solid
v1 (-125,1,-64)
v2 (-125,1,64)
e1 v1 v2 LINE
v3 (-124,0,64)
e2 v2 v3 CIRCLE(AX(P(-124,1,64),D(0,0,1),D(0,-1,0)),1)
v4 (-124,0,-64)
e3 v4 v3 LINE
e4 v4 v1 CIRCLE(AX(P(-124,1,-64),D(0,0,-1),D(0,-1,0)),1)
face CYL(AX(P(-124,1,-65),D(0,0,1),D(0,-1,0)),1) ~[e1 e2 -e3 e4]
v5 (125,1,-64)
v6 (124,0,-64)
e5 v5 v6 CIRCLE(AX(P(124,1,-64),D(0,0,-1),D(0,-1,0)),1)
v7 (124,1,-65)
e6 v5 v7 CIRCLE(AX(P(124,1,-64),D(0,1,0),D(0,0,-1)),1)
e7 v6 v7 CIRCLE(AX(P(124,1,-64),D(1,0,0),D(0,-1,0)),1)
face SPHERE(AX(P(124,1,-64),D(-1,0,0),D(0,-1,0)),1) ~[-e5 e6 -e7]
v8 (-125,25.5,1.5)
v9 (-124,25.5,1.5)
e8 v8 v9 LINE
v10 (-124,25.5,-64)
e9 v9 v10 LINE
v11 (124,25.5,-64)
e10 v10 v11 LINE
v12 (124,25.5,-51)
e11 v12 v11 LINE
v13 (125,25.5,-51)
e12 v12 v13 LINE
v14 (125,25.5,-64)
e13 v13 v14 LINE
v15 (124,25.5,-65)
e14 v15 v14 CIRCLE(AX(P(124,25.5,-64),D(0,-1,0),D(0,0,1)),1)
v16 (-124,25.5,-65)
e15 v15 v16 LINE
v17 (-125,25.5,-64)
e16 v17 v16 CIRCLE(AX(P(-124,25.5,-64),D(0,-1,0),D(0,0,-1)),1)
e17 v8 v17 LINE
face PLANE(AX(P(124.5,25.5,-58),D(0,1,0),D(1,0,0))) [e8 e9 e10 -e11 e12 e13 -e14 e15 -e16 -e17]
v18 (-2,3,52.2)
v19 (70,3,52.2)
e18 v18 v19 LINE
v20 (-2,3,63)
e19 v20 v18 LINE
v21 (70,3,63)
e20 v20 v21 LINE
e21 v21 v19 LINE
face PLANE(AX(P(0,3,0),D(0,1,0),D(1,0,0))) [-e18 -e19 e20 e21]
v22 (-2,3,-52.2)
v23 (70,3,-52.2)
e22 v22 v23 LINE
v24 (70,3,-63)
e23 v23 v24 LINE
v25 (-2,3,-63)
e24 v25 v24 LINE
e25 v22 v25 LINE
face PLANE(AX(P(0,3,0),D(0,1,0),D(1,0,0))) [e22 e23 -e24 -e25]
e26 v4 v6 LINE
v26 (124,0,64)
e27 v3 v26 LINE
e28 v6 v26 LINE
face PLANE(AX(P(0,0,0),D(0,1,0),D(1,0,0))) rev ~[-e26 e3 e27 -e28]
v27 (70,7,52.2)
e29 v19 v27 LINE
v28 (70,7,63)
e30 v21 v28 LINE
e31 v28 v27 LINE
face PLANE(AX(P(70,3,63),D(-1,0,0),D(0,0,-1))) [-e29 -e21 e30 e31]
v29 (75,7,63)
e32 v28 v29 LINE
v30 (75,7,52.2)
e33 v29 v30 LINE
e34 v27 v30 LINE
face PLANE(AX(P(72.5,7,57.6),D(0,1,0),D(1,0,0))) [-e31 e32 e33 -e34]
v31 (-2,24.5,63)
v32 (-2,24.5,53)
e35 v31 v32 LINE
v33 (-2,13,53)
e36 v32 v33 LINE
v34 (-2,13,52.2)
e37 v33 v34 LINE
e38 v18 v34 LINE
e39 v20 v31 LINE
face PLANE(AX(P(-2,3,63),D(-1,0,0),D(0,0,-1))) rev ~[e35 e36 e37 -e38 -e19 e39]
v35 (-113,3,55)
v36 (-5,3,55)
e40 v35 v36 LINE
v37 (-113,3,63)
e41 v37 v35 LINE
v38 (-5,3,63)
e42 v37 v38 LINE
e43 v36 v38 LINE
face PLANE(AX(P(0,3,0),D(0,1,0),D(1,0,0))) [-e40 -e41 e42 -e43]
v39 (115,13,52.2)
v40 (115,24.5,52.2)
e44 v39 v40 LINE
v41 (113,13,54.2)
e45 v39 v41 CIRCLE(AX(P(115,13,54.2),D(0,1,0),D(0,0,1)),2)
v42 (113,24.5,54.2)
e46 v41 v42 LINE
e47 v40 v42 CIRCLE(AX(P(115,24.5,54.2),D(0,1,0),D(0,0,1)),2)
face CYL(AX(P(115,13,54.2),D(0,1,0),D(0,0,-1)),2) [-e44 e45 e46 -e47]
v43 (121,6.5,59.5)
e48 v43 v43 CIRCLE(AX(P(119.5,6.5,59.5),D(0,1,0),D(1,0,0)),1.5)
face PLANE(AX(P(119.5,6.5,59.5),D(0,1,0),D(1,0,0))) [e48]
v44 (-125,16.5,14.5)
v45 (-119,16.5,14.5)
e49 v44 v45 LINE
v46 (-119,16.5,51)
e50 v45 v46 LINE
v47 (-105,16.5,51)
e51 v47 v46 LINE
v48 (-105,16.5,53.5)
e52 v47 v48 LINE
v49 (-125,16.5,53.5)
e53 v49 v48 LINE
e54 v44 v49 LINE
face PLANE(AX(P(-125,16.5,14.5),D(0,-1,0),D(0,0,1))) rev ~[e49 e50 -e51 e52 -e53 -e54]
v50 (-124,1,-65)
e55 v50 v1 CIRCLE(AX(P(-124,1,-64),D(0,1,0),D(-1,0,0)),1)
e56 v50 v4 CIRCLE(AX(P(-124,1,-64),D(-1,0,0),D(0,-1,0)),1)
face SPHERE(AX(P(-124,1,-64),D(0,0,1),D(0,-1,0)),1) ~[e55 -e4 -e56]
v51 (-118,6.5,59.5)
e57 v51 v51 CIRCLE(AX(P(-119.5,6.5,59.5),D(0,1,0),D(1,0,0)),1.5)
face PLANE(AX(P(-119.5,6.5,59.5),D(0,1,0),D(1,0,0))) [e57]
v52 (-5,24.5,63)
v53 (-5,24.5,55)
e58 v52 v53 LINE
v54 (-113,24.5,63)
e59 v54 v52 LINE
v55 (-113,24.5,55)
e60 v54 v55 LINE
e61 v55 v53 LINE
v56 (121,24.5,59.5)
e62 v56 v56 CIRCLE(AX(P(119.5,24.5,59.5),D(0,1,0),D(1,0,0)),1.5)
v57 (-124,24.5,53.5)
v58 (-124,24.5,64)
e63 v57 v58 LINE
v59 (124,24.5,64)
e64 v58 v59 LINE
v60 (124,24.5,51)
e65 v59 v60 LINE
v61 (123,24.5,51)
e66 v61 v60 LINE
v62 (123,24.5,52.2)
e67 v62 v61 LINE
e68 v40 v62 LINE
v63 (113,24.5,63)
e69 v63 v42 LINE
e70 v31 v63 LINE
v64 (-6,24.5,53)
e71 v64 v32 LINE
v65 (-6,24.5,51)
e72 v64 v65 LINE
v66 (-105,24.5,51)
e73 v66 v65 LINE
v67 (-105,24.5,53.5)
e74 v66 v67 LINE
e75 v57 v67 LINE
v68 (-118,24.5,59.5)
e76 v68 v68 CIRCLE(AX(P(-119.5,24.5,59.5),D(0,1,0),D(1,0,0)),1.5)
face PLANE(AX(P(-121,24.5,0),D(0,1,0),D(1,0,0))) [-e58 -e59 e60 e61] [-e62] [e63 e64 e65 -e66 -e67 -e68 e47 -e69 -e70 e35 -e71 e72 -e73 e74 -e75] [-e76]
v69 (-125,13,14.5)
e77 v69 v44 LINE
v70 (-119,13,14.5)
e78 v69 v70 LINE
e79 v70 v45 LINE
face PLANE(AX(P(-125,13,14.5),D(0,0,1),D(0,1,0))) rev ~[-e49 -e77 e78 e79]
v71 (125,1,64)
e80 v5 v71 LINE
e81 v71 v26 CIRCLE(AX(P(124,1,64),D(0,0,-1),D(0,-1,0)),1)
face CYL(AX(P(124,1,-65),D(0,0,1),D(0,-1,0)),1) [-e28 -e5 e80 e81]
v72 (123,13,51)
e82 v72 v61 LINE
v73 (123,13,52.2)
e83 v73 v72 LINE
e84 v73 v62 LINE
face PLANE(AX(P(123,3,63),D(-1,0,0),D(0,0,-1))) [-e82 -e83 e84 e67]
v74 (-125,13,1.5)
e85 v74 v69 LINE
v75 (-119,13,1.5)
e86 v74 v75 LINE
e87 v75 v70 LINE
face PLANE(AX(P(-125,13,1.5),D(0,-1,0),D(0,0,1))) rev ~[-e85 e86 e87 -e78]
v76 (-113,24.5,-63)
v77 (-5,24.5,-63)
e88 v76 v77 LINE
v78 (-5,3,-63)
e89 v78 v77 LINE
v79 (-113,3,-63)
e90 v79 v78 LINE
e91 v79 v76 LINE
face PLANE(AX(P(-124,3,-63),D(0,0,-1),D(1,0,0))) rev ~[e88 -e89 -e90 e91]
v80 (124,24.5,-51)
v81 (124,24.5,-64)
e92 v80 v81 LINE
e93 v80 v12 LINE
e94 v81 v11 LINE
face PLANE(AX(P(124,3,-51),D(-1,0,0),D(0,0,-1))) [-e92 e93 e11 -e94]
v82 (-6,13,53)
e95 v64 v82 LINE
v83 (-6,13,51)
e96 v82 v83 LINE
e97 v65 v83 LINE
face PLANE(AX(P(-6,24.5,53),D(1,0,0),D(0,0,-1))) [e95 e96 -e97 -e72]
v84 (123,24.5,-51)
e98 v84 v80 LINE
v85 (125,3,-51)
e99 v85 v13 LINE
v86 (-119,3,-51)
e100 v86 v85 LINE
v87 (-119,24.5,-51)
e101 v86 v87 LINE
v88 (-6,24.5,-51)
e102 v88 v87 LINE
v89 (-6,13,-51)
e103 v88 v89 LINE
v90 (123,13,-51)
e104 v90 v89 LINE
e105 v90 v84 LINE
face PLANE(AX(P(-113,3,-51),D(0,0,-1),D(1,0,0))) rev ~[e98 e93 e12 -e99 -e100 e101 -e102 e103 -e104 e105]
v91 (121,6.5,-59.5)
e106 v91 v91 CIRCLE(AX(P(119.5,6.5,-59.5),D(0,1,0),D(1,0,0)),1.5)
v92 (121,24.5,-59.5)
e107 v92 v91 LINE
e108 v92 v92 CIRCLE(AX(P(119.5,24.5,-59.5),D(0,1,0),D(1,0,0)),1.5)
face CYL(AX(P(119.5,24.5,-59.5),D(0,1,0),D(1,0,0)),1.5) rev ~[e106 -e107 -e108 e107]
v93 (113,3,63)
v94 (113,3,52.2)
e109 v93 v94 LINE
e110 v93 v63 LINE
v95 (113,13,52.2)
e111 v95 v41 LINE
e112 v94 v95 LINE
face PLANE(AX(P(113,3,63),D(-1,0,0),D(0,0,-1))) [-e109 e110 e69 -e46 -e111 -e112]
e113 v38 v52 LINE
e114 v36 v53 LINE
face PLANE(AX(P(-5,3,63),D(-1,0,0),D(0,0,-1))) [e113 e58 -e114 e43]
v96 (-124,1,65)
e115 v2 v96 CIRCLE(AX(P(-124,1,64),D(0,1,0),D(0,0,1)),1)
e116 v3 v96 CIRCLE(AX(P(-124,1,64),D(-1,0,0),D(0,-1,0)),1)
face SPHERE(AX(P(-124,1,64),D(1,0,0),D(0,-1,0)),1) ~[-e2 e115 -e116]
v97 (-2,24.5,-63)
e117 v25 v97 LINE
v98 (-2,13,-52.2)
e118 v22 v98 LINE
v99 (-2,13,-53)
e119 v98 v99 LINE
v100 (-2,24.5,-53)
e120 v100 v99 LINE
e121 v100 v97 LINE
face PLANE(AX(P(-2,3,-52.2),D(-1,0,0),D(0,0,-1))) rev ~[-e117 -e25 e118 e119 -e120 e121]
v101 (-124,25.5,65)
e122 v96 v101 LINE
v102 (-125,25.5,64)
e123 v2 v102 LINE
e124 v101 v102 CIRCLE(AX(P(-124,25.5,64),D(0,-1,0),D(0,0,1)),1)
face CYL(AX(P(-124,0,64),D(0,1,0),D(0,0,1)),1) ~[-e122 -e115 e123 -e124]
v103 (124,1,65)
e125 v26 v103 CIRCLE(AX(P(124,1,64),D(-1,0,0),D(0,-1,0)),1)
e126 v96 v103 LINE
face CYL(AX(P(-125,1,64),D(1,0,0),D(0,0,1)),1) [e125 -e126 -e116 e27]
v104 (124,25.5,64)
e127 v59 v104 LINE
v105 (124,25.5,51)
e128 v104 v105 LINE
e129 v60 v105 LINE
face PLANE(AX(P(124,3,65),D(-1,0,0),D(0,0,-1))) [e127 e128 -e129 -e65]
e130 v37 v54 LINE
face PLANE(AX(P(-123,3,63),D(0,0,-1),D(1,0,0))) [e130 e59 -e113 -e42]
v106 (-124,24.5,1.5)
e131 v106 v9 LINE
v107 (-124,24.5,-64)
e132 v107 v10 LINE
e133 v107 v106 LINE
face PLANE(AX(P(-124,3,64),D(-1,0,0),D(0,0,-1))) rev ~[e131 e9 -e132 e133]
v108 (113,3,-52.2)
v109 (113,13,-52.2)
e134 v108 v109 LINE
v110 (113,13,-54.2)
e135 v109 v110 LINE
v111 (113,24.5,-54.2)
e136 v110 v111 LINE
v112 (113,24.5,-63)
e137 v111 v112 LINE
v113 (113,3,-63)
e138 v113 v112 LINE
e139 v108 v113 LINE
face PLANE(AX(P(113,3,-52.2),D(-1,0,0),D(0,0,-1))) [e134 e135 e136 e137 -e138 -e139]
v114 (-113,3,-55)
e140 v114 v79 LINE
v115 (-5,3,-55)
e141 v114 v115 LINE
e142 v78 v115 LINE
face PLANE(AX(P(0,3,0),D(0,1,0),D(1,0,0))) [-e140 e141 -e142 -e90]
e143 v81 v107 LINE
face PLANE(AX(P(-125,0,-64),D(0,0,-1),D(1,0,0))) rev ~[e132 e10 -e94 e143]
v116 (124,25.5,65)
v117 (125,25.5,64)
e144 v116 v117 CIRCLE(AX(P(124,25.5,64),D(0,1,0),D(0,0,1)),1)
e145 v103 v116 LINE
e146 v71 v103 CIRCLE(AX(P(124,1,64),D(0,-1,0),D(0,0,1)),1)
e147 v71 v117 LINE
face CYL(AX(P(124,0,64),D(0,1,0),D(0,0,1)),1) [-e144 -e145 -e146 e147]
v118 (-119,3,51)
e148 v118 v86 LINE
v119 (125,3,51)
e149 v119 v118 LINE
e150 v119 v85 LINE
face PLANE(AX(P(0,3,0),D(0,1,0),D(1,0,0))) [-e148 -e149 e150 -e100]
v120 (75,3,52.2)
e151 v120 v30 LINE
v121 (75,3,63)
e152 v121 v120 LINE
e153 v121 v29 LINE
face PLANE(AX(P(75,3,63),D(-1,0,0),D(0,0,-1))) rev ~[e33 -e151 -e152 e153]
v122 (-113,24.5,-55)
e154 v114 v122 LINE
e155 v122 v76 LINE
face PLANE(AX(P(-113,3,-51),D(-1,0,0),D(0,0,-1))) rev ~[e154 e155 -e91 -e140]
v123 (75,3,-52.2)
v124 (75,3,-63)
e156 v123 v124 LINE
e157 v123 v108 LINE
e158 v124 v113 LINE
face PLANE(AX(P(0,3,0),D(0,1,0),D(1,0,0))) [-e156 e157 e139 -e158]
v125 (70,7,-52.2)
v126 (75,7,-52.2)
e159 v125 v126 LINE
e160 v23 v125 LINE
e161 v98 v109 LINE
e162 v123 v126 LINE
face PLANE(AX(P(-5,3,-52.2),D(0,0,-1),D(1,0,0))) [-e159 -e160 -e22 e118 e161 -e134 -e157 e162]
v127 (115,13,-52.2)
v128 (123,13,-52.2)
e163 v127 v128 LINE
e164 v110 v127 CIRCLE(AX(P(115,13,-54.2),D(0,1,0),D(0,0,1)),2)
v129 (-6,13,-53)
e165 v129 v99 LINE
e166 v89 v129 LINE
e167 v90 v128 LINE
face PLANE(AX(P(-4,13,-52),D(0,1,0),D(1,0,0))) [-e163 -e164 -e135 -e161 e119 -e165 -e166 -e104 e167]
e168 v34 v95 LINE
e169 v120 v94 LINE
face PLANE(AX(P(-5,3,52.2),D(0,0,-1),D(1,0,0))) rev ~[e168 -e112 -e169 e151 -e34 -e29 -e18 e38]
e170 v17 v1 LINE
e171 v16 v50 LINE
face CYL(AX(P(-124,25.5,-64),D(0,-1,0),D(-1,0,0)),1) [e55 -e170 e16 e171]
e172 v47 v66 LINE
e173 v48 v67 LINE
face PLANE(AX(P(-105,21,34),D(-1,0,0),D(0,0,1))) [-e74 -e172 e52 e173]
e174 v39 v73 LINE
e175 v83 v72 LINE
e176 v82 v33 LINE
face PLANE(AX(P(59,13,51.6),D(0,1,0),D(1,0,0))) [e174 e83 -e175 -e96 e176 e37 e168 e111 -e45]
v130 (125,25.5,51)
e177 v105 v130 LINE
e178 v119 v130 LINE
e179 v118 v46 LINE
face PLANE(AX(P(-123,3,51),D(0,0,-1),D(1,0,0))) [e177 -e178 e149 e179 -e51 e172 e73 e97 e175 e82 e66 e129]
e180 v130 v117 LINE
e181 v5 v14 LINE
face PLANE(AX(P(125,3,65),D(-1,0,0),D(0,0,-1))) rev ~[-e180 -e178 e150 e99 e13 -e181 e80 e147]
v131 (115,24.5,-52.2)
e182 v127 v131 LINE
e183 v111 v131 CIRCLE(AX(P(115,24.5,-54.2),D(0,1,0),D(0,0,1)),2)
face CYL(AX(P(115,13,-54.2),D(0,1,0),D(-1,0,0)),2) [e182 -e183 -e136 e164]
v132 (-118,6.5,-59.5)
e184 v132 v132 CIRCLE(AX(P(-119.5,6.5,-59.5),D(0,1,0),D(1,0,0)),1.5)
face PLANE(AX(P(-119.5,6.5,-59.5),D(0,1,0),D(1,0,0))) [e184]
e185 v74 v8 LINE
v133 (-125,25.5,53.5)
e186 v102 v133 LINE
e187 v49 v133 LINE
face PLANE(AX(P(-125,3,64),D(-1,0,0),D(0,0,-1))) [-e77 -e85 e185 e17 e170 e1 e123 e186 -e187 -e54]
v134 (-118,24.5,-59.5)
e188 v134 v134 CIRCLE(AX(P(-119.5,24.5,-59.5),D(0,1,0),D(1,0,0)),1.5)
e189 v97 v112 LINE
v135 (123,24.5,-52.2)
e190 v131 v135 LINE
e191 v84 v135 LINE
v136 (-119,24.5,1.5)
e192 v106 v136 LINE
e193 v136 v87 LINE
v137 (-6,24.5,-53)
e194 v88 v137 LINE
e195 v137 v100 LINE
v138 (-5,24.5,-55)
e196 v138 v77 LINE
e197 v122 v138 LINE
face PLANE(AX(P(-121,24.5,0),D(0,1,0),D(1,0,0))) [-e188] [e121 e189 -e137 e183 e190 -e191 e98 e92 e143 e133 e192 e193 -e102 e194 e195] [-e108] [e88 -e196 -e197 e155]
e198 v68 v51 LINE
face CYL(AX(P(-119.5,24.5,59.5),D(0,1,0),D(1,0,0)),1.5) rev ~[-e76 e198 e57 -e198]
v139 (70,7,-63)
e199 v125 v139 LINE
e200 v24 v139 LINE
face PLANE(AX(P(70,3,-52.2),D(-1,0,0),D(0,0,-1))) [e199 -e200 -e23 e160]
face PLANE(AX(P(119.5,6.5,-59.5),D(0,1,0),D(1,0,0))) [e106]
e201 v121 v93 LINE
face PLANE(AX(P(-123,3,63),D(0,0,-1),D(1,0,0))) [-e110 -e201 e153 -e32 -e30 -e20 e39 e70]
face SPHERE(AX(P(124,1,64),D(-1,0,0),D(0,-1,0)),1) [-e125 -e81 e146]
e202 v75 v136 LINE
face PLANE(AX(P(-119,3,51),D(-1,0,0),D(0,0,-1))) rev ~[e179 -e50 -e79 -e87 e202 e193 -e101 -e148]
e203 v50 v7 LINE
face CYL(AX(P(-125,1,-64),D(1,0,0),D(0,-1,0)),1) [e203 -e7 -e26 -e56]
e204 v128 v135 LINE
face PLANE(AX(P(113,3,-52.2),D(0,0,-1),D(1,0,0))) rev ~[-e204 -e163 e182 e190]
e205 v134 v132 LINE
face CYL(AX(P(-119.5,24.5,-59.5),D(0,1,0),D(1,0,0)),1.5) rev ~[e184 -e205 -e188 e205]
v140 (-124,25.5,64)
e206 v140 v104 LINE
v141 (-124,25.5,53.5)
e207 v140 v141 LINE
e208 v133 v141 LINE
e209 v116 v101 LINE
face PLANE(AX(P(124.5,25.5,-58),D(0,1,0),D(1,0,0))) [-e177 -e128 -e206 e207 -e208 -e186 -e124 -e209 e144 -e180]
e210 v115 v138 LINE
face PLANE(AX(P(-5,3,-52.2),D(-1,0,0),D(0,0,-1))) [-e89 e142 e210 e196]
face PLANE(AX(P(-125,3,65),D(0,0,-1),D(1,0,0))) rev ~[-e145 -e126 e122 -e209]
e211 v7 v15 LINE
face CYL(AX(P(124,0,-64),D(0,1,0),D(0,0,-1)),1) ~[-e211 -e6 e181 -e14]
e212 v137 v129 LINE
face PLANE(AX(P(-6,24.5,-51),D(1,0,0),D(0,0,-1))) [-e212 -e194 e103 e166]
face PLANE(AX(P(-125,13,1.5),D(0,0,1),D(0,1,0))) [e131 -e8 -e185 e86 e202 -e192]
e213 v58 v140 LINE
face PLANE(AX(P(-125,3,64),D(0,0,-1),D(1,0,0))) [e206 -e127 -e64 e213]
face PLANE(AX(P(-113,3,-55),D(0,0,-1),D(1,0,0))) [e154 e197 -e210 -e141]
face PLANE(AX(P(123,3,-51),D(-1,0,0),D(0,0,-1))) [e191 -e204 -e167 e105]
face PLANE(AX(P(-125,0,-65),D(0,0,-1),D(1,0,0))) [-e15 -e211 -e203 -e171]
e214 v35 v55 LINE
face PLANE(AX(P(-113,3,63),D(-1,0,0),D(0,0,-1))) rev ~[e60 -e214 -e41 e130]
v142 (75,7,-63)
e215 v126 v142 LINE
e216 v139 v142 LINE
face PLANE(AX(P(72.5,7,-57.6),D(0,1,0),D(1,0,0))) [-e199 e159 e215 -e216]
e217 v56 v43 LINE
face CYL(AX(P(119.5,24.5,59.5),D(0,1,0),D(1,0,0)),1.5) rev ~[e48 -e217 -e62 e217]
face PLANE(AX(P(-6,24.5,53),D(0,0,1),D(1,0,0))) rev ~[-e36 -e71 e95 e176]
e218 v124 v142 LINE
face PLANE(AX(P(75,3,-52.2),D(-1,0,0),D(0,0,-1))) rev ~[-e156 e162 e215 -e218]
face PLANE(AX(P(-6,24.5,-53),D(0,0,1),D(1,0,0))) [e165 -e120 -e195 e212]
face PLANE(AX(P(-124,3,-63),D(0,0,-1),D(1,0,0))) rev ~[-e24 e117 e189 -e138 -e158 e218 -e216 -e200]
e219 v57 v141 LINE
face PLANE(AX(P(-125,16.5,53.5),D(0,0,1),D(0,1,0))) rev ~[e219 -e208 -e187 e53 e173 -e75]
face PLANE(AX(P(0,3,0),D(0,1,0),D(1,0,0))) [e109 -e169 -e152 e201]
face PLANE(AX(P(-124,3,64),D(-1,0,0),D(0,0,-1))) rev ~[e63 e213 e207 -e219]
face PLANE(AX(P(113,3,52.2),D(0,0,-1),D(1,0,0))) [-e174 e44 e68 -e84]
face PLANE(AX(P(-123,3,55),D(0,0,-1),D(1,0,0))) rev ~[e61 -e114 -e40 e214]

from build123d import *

# Parameters (mm, degrees)
SKETCH1_W             = 250
SKETCH1_H             = 130
BOSS_EXTRUDE1_DEPTH   = 3
SKETCH2_W             = 250
SKETCH2_H             = 1
BOSS_EXTRUDE2_DEPTH   = 25.5
SKETCH3_W             = 250
SKETCH3_H             = 1
BOSS_EXTRUDE3_DEPTH   = 22.5
SKETCH4_W             = 1
SKETCH4_H             = 128
BOSS_EXTRUDE4_DEPTH   = 22.5
SKETCH6_W             = 1
SKETCH6_H             = 14
BOSS_EXTRUDE5_DEPTH   = 22.5
SKETCH7_W             = 1
SKETCH7_H             = 14
BOSS_EXTRUDE6_DEPTH   = 22.5
SKETCH8_W             = 1
SKETCH8_H             = 13
BOSS_EXTRUDE7_DEPTH   = 21.5
SKETCH10_W            = 247
SKETCH10_H            = 1
BOSS_EXTRUDE8_DEPTH   = 21.5
SKETCH11_W            = 1
SKETCH11_H            = 127
BOSS_EXTRUDE9_DEPTH   = 21.5
SKETCH14_W            = 247
SKETCH14_H            = 1
BOSS_EXTRUDE10_DEPTH  = 21.5
SKETCH15_W            = 1
SKETCH15_H            = 12
BOSS_EXTRUDE11_DEPTH  = 21.5
FILLET1_R             = 1
SKETCH17_W            = 128
SKETCH17_H            = 1.2
BOSS_EXTRUDE12_DEPTH  = 10
SKETCH19_W            = 128
SKETCH19_H            = 1.2
BOSS_EXTRUDE13_DEPTH  = 10
SKETCH22_W            = 3
SKETCH22_H            = 10.8
BOSS_EXTRUDE14_DEPTH  = 21.5
SKETCH24_W            = 3
SKETCH24_H            = 10.8
BOSS_EXTRUDE15_DEPTH  = 21.5
SKETCH31_W            = 5
SKETCH31_H            = 10.8
BOSS_EXTRUDE16_DEPTH  = 4
SKETCH33_W            = 5
SKETCH33_H            = 10.8
BOSS_EXTRUDE18_DEPTH  = 4
SKETCH44_W            = 118
SKETCH44_H            = 4
BOSS_EXTRUDE28_DEPTH  = 21.5
SKETCH45_W            = 10
SKETCH45_H            = 12
BOSS_EXTRUDE29_DEPTH  = 21.5
SKETCH46_W            = 10
SKETCH46_H            = 8
BOSS_EXTRUDE30_DEPTH  = 21.5
SKETCH47_W            = 10
SKETCH47_H            = 10.8
BOSS_EXTRUDE31_DEPTH  = 21.5
SKETCH48_W            = 10
SKETCH48_H            = 10.8
BOSS_EXTRUDE32_DEPTH  = 21.5
SKETCH49_W            = 108
SKETCH49_H            = 4
BOSS_EXTRUDE33_DEPTH  = 21.5
SKETCH62_R            = 1.5
CASEMUNTHOLE001_DEPTH = 18
SKETCH63_R            = 1.5
CASEMUNTHOLE002_DEPTH = 18
SKETCH64_R            = 1.5
CASEMUNTHOLE003_DEPTH = 18
SKETCH65_R            = 1.5
CASEMUNTHOLE004_DEPTH = 18
SKETCH67_W            = 4
SKETCH67_H            = 102
BOSS_EXTRUDE35_DEPTH  = 21.5
SKETCH72_W            = 39
SKETCH72_H            = 9
CUT_EXTRUDE1_DEPTH    = 20
SKETCH73_W            = 13
SKETCH73_H            = 12.5
CUT_EXTRUDE2_DEPTH    = 20
SKETCH74_W            = 4
SKETCH74_H            = 2
CUT_EXTRUDE3_DEPTH    = 11.5
SKETCH75_W            = 4
SKETCH75_H            = 2
CUT_EXTRUDE4_DEPTH    = 11.5
FILLET2_R             = 2


with BuildPart() as part:
    # Sketch1 → Boss-Extrude1 (new body)
    with BuildSketch(Plane(origin=(0, 0, 0), x_dir=(1, 0, 0), z_dir=(0, 1, 0))):
        Rectangle(SKETCH1_W, SKETCH1_H)
    extrude(amount=BOSS_EXTRUDE1_DEPTH)

    # Sketch2 → Boss-Extrude2 (add)
    with BuildSketch(Plane(origin=(0, 0, 0), x_dir=(1, 0, 0), z_dir=(0, 1, 0))):
        with Locations((0, 64.5)):
            Rectangle(SKETCH2_W, SKETCH2_H)
    extrude(amount=BOSS_EXTRUDE2_DEPTH)

    # Sketch3 → Boss-Extrude3 (add)
    with BuildSketch(Plane(origin=(0, 3, 0), x_dir=(1, 0, 0), z_dir=(0, 1, 0))):
        with Locations((0, -64.5)):
            Rectangle(SKETCH3_W, SKETCH3_H)
    extrude(amount=BOSS_EXTRUDE3_DEPTH)

    # Sketch4 → Boss-Extrude4 (add)
    with BuildSketch(Plane(origin=(0, 3, 0), x_dir=(1, 0, 0), z_dir=(0, 1, 0))):
        with Locations((-124.5, 0)):
            Rectangle(SKETCH4_W, SKETCH4_H)
    extrude(amount=BOSS_EXTRUDE4_DEPTH)

    # Sketch6 → Boss-Extrude5 (add)
    with BuildSketch(Plane(origin=(0, 3, 0), x_dir=(1, 0, 0), z_dir=(0, 1, 0))):
        with Locations((124.5, -58)):
            Rectangle(SKETCH6_W, SKETCH6_H)
    extrude(amount=BOSS_EXTRUDE5_DEPTH)

    # Sketch7 → Boss-Extrude6 (add)
    with BuildSketch(Plane(origin=(0, 3, 0), x_dir=(1, 0, 0), z_dir=(0, 1, 0))):
        with Locations((124.5, 58)):
            Rectangle(SKETCH7_W, SKETCH7_H)
    extrude(amount=BOSS_EXTRUDE6_DEPTH)

    # Sketch8 → Boss-Extrude7 (add)
    with BuildSketch(Plane(origin=(0, 3, 0), x_dir=(1, 0, 0), z_dir=(0, 1, 0))):
        with Locations((123.5, 57.5)):
            Rectangle(SKETCH8_W, SKETCH8_H)
    extrude(amount=BOSS_EXTRUDE7_DEPTH)

    # Sketch10 → Boss-Extrude8 (add)
    with BuildSketch(Plane(origin=(0, 3, 0), x_dir=(1, 0, 0), z_dir=(0, 1, 0))):
        with Locations((-0.5, 63.5)):
            Rectangle(SKETCH10_W, SKETCH10_H)
    extrude(amount=BOSS_EXTRUDE8_DEPTH)

    # Sketch11 → Boss-Extrude9 (add)
    with BuildSketch(Plane(origin=(0, 3, 0), x_dir=(1, 0, 0), z_dir=(0, 1, 0))):
        with Locations((-123.5, -0.5)):
            Rectangle(SKETCH11_W, SKETCH11_H)
    extrude(amount=BOSS_EXTRUDE9_DEPTH)

    # Sketch14 → Boss-Extrude10 (add)
    with BuildSketch(Plane(origin=(0, 3, 0), x_dir=(1, 0, 0), z_dir=(0, 1, 0))):
        with Locations((0.5, -63.5)):
            Rectangle(SKETCH14_W, SKETCH14_H)
    extrude(amount=BOSS_EXTRUDE10_DEPTH)

    # Sketch15 → Boss-Extrude11 (add)
    with BuildSketch(Plane(origin=(0, 3, 0), x_dir=(1, 0, 0), z_dir=(0, 1, 0))):
        with Locations((123.5, -57)):
            Rectangle(SKETCH15_W, SKETCH15_H)
    extrude(amount=BOSS_EXTRUDE11_DEPTH)

    # Fillet1
    fillet1_edges = [part.edges().sort_by_distance(p)[0] for p in [
        (0, 0, 65),
        (-125, 0, 0),
        (0, 0, -65),
        (125, 0, 0),
        (125, 12.75, 65),
        (-125, 12.75, 65),
        (-125, 12.75, -65),
        (125, 12.75, -65),
    ]]
    fillet(fillet1_edges, radius=FILLET1_R)

    # Sketch17 → Boss-Extrude12 (add)
    with BuildSketch(Plane(origin=(0, 3, 0), x_dir=(1, 0, 0), z_dir=(0, 1, 0))):
        with Locations((59, 51.6)):
            Rectangle(SKETCH17_W, SKETCH17_H)
    extrude(amount=BOSS_EXTRUDE12_DEPTH)

    # Sketch19 → Boss-Extrude13 (add)
    with BuildSketch(Plane(origin=(0, 3, 0), x_dir=(1, 0, 0), z_dir=(0, 1, 0))):
        with Locations((59, -51.6)):
            Rectangle(SKETCH19_W, SKETCH19_H)
    extrude(amount=BOSS_EXTRUDE13_DEPTH)

    # Sketch22 → Boss-Extrude14 (add)
    with BuildSketch(Plane(origin=(0, 3, 0), x_dir=(1, 0, 0), z_dir=(0, 1, 0))):
        with Locations((-3.5, -57.6)):
            Rectangle(SKETCH22_W, SKETCH22_H)
    extrude(amount=BOSS_EXTRUDE14_DEPTH)

    # Sketch24 → Boss-Extrude15 (add)
    with BuildSketch(Plane(origin=(0, 3, 0), x_dir=(1, 0, 0), z_dir=(0, 1, 0))):
        with Locations((-3.5, 57.6)):
            Rectangle(SKETCH24_W, SKETCH24_H)
    extrude(amount=BOSS_EXTRUDE15_DEPTH)

    # Sketch31 → Boss-Extrude16 (add)
    with BuildSketch(Plane(origin=(0, 3, 0), x_dir=(1, 0, 0), z_dir=(0, 1, 0))):
        with Locations((72.5, -57.6)):
            Rectangle(SKETCH31_W, SKETCH31_H)
    extrude(amount=BOSS_EXTRUDE16_DEPTH)

    # Sketch33 → Boss-Extrude18 (add)
    with BuildSketch(Plane(origin=(0, 3, 0), x_dir=(1, 0, 0), z_dir=(0, 1, 0))):
        with Locations((72.5, 57.6)):
            Rectangle(SKETCH33_W, SKETCH33_H)
    extrude(amount=BOSS_EXTRUDE18_DEPTH)

    # Sketch44 → Boss-Extrude28 (add)
    with BuildSketch(Plane(origin=(0, 3, 0), x_dir=(1, 0, 0), z_dir=(0, 1, 0))):
        with Locations((-64, -53)):
            Rectangle(SKETCH44_W, SKETCH44_H)
    extrude(amount=BOSS_EXTRUDE28_DEPTH)

    # Sketch45 → Boss-Extrude29 (add)
    with BuildSketch(Plane(origin=(0, 3, 0), x_dir=(1, 0, 0), z_dir=(0, 1, 0))):
        with Locations((-118, 57)):
            Rectangle(SKETCH45_W, SKETCH45_H)
    extrude(amount=BOSS_EXTRUDE29_DEPTH)

    # Sketch46 → Boss-Extrude30 (add)
    with BuildSketch(Plane(origin=(0, 3, 0), x_dir=(1, 0, 0), z_dir=(0, 1, 0))):
        with Locations((-118, -59)):
            Rectangle(SKETCH46_W, SKETCH46_H)
    extrude(amount=BOSS_EXTRUDE30_DEPTH)

    # Sketch47 → Boss-Extrude31 (add)
    with BuildSketch(Plane(origin=(0, 3, 0), x_dir=(1, 0, 0), z_dir=(0, 1, 0))):
        with Locations((118, 57.6)):
            Rectangle(SKETCH47_W, SKETCH47_H)
    extrude(amount=BOSS_EXTRUDE31_DEPTH)

    # Sketch48 → Boss-Extrude32 (add)
    with BuildSketch(Plane(origin=(0, 3, 0), x_dir=(1, 0, 0), z_dir=(0, 1, 0))):
        with Locations((118, -57.6)):
            Rectangle(SKETCH48_W, SKETCH48_H)
    extrude(amount=BOSS_EXTRUDE32_DEPTH)

    # Sketch49 → Boss-Extrude33 (add)
    with BuildSketch(Plane(origin=(0, 3, 0), x_dir=(1, 0, 0), z_dir=(0, 1, 0))):
        with Locations((-59, 53)):
            Rectangle(SKETCH49_W, SKETCH49_H)
    extrude(amount=BOSS_EXTRUDE33_DEPTH)

    # Sketch62 → CaseMuntHole001 (cut)
    with BuildSketch(Plane(origin=(0, 24.5, 0), x_dir=(1, 0, 0), z_dir=(0, 1, 0))):
        with Locations((-119.5, 59.5)):
            Circle(SKETCH62_R)
    extrude(amount=-CASEMUNTHOLE001_DEPTH, mode=Mode.SUBTRACT)

    # Sketch63 → CaseMuntHole002 (cut)
    with BuildSketch(Plane(origin=(0, 24.5, 0), x_dir=(1, 0, 0), z_dir=(0, 1, 0))):
        with Locations((119.5, 59.5)):
            Circle(SKETCH63_R)
    extrude(amount=-CASEMUNTHOLE002_DEPTH, mode=Mode.SUBTRACT)

    # Sketch64 → CaseMuntHole003 (cut)
    with BuildSketch(Plane(origin=(0, 24.5, 0), x_dir=(1, 0, 0), z_dir=(0, 1, 0))):
        with Locations((119.5, -59.5)):
            Circle(SKETCH64_R)
    extrude(amount=-CASEMUNTHOLE003_DEPTH, mode=Mode.SUBTRACT)

    # Sketch65 → CaseMuntHole004 (cut)
    with BuildSketch(Plane(origin=(0, 24.5, 0), x_dir=(1, 0, 0), z_dir=(0, 1, 0))):
        with Locations((-119.5, -59.5)):
            Circle(SKETCH65_R)
    extrude(amount=-CASEMUNTHOLE004_DEPTH, mode=Mode.SUBTRACT)

    # Sketch67 → Boss-Extrude35 (add)
    with BuildSketch(Plane(origin=(0, 3, 0), x_dir=(1, 0, 0), z_dir=(0, 1, 0))):
        with Locations((-121, 0)):
            Rectangle(SKETCH67_W, SKETCH67_H)
    extrude(amount=BOSS_EXTRUDE35_DEPTH)

    # Sketch72 → Cut-Extrude1 (cut)
    with BuildSketch(Plane.ZY.offset(125)):
        with Locations((34, 21)):
            Rectangle(SKETCH72_W, SKETCH72_H)
    extrude(amount=-CUT_EXTRUDE1_DEPTH, mode=Mode.SUBTRACT)

    # Sketch73 → Cut-Extrude2 (cut)
    with BuildSketch(Plane.ZY.offset(125)):
        with Locations((8, 19.25)):
            Rectangle(SKETCH73_W, SKETCH73_H)
    extrude(amount=-CUT_EXTRUDE2_DEPTH, mode=Mode.SUBTRACT)

    # Sketch74 → Cut-Extrude3 (cut)
    with BuildSketch(Plane(origin=(0, 24.5, 0), x_dir=(1, 0, 0), z_dir=(0, 1, 0))):
        with Locations((-4, -52)):
            Rectangle(SKETCH74_W, SKETCH74_H)
    extrude(amount=-CUT_EXTRUDE3_DEPTH, mode=Mode.SUBTRACT)

    # Sketch75 → Cut-Extrude4 (cut)
    with BuildSketch(Plane(origin=(0, 24.5, 0), x_dir=(1, 0, 0), z_dir=(0, 1, 0))):
        with Locations((-4, 52)):
            Rectangle(SKETCH75_W, SKETCH75_H)
    extrude(amount=-CUT_EXTRUDE4_DEPTH, mode=Mode.SUBTRACT)

    # Fillet2
    fillet2_edges = [part.edges().sort_by_distance(p)[0] for p in [
        (113, 18.75, -52.2),
        (113, 18.75, 52.2),
    ]]
    fillet(fillet2_edges, radius=FILLET2_R)


solid = part.part
